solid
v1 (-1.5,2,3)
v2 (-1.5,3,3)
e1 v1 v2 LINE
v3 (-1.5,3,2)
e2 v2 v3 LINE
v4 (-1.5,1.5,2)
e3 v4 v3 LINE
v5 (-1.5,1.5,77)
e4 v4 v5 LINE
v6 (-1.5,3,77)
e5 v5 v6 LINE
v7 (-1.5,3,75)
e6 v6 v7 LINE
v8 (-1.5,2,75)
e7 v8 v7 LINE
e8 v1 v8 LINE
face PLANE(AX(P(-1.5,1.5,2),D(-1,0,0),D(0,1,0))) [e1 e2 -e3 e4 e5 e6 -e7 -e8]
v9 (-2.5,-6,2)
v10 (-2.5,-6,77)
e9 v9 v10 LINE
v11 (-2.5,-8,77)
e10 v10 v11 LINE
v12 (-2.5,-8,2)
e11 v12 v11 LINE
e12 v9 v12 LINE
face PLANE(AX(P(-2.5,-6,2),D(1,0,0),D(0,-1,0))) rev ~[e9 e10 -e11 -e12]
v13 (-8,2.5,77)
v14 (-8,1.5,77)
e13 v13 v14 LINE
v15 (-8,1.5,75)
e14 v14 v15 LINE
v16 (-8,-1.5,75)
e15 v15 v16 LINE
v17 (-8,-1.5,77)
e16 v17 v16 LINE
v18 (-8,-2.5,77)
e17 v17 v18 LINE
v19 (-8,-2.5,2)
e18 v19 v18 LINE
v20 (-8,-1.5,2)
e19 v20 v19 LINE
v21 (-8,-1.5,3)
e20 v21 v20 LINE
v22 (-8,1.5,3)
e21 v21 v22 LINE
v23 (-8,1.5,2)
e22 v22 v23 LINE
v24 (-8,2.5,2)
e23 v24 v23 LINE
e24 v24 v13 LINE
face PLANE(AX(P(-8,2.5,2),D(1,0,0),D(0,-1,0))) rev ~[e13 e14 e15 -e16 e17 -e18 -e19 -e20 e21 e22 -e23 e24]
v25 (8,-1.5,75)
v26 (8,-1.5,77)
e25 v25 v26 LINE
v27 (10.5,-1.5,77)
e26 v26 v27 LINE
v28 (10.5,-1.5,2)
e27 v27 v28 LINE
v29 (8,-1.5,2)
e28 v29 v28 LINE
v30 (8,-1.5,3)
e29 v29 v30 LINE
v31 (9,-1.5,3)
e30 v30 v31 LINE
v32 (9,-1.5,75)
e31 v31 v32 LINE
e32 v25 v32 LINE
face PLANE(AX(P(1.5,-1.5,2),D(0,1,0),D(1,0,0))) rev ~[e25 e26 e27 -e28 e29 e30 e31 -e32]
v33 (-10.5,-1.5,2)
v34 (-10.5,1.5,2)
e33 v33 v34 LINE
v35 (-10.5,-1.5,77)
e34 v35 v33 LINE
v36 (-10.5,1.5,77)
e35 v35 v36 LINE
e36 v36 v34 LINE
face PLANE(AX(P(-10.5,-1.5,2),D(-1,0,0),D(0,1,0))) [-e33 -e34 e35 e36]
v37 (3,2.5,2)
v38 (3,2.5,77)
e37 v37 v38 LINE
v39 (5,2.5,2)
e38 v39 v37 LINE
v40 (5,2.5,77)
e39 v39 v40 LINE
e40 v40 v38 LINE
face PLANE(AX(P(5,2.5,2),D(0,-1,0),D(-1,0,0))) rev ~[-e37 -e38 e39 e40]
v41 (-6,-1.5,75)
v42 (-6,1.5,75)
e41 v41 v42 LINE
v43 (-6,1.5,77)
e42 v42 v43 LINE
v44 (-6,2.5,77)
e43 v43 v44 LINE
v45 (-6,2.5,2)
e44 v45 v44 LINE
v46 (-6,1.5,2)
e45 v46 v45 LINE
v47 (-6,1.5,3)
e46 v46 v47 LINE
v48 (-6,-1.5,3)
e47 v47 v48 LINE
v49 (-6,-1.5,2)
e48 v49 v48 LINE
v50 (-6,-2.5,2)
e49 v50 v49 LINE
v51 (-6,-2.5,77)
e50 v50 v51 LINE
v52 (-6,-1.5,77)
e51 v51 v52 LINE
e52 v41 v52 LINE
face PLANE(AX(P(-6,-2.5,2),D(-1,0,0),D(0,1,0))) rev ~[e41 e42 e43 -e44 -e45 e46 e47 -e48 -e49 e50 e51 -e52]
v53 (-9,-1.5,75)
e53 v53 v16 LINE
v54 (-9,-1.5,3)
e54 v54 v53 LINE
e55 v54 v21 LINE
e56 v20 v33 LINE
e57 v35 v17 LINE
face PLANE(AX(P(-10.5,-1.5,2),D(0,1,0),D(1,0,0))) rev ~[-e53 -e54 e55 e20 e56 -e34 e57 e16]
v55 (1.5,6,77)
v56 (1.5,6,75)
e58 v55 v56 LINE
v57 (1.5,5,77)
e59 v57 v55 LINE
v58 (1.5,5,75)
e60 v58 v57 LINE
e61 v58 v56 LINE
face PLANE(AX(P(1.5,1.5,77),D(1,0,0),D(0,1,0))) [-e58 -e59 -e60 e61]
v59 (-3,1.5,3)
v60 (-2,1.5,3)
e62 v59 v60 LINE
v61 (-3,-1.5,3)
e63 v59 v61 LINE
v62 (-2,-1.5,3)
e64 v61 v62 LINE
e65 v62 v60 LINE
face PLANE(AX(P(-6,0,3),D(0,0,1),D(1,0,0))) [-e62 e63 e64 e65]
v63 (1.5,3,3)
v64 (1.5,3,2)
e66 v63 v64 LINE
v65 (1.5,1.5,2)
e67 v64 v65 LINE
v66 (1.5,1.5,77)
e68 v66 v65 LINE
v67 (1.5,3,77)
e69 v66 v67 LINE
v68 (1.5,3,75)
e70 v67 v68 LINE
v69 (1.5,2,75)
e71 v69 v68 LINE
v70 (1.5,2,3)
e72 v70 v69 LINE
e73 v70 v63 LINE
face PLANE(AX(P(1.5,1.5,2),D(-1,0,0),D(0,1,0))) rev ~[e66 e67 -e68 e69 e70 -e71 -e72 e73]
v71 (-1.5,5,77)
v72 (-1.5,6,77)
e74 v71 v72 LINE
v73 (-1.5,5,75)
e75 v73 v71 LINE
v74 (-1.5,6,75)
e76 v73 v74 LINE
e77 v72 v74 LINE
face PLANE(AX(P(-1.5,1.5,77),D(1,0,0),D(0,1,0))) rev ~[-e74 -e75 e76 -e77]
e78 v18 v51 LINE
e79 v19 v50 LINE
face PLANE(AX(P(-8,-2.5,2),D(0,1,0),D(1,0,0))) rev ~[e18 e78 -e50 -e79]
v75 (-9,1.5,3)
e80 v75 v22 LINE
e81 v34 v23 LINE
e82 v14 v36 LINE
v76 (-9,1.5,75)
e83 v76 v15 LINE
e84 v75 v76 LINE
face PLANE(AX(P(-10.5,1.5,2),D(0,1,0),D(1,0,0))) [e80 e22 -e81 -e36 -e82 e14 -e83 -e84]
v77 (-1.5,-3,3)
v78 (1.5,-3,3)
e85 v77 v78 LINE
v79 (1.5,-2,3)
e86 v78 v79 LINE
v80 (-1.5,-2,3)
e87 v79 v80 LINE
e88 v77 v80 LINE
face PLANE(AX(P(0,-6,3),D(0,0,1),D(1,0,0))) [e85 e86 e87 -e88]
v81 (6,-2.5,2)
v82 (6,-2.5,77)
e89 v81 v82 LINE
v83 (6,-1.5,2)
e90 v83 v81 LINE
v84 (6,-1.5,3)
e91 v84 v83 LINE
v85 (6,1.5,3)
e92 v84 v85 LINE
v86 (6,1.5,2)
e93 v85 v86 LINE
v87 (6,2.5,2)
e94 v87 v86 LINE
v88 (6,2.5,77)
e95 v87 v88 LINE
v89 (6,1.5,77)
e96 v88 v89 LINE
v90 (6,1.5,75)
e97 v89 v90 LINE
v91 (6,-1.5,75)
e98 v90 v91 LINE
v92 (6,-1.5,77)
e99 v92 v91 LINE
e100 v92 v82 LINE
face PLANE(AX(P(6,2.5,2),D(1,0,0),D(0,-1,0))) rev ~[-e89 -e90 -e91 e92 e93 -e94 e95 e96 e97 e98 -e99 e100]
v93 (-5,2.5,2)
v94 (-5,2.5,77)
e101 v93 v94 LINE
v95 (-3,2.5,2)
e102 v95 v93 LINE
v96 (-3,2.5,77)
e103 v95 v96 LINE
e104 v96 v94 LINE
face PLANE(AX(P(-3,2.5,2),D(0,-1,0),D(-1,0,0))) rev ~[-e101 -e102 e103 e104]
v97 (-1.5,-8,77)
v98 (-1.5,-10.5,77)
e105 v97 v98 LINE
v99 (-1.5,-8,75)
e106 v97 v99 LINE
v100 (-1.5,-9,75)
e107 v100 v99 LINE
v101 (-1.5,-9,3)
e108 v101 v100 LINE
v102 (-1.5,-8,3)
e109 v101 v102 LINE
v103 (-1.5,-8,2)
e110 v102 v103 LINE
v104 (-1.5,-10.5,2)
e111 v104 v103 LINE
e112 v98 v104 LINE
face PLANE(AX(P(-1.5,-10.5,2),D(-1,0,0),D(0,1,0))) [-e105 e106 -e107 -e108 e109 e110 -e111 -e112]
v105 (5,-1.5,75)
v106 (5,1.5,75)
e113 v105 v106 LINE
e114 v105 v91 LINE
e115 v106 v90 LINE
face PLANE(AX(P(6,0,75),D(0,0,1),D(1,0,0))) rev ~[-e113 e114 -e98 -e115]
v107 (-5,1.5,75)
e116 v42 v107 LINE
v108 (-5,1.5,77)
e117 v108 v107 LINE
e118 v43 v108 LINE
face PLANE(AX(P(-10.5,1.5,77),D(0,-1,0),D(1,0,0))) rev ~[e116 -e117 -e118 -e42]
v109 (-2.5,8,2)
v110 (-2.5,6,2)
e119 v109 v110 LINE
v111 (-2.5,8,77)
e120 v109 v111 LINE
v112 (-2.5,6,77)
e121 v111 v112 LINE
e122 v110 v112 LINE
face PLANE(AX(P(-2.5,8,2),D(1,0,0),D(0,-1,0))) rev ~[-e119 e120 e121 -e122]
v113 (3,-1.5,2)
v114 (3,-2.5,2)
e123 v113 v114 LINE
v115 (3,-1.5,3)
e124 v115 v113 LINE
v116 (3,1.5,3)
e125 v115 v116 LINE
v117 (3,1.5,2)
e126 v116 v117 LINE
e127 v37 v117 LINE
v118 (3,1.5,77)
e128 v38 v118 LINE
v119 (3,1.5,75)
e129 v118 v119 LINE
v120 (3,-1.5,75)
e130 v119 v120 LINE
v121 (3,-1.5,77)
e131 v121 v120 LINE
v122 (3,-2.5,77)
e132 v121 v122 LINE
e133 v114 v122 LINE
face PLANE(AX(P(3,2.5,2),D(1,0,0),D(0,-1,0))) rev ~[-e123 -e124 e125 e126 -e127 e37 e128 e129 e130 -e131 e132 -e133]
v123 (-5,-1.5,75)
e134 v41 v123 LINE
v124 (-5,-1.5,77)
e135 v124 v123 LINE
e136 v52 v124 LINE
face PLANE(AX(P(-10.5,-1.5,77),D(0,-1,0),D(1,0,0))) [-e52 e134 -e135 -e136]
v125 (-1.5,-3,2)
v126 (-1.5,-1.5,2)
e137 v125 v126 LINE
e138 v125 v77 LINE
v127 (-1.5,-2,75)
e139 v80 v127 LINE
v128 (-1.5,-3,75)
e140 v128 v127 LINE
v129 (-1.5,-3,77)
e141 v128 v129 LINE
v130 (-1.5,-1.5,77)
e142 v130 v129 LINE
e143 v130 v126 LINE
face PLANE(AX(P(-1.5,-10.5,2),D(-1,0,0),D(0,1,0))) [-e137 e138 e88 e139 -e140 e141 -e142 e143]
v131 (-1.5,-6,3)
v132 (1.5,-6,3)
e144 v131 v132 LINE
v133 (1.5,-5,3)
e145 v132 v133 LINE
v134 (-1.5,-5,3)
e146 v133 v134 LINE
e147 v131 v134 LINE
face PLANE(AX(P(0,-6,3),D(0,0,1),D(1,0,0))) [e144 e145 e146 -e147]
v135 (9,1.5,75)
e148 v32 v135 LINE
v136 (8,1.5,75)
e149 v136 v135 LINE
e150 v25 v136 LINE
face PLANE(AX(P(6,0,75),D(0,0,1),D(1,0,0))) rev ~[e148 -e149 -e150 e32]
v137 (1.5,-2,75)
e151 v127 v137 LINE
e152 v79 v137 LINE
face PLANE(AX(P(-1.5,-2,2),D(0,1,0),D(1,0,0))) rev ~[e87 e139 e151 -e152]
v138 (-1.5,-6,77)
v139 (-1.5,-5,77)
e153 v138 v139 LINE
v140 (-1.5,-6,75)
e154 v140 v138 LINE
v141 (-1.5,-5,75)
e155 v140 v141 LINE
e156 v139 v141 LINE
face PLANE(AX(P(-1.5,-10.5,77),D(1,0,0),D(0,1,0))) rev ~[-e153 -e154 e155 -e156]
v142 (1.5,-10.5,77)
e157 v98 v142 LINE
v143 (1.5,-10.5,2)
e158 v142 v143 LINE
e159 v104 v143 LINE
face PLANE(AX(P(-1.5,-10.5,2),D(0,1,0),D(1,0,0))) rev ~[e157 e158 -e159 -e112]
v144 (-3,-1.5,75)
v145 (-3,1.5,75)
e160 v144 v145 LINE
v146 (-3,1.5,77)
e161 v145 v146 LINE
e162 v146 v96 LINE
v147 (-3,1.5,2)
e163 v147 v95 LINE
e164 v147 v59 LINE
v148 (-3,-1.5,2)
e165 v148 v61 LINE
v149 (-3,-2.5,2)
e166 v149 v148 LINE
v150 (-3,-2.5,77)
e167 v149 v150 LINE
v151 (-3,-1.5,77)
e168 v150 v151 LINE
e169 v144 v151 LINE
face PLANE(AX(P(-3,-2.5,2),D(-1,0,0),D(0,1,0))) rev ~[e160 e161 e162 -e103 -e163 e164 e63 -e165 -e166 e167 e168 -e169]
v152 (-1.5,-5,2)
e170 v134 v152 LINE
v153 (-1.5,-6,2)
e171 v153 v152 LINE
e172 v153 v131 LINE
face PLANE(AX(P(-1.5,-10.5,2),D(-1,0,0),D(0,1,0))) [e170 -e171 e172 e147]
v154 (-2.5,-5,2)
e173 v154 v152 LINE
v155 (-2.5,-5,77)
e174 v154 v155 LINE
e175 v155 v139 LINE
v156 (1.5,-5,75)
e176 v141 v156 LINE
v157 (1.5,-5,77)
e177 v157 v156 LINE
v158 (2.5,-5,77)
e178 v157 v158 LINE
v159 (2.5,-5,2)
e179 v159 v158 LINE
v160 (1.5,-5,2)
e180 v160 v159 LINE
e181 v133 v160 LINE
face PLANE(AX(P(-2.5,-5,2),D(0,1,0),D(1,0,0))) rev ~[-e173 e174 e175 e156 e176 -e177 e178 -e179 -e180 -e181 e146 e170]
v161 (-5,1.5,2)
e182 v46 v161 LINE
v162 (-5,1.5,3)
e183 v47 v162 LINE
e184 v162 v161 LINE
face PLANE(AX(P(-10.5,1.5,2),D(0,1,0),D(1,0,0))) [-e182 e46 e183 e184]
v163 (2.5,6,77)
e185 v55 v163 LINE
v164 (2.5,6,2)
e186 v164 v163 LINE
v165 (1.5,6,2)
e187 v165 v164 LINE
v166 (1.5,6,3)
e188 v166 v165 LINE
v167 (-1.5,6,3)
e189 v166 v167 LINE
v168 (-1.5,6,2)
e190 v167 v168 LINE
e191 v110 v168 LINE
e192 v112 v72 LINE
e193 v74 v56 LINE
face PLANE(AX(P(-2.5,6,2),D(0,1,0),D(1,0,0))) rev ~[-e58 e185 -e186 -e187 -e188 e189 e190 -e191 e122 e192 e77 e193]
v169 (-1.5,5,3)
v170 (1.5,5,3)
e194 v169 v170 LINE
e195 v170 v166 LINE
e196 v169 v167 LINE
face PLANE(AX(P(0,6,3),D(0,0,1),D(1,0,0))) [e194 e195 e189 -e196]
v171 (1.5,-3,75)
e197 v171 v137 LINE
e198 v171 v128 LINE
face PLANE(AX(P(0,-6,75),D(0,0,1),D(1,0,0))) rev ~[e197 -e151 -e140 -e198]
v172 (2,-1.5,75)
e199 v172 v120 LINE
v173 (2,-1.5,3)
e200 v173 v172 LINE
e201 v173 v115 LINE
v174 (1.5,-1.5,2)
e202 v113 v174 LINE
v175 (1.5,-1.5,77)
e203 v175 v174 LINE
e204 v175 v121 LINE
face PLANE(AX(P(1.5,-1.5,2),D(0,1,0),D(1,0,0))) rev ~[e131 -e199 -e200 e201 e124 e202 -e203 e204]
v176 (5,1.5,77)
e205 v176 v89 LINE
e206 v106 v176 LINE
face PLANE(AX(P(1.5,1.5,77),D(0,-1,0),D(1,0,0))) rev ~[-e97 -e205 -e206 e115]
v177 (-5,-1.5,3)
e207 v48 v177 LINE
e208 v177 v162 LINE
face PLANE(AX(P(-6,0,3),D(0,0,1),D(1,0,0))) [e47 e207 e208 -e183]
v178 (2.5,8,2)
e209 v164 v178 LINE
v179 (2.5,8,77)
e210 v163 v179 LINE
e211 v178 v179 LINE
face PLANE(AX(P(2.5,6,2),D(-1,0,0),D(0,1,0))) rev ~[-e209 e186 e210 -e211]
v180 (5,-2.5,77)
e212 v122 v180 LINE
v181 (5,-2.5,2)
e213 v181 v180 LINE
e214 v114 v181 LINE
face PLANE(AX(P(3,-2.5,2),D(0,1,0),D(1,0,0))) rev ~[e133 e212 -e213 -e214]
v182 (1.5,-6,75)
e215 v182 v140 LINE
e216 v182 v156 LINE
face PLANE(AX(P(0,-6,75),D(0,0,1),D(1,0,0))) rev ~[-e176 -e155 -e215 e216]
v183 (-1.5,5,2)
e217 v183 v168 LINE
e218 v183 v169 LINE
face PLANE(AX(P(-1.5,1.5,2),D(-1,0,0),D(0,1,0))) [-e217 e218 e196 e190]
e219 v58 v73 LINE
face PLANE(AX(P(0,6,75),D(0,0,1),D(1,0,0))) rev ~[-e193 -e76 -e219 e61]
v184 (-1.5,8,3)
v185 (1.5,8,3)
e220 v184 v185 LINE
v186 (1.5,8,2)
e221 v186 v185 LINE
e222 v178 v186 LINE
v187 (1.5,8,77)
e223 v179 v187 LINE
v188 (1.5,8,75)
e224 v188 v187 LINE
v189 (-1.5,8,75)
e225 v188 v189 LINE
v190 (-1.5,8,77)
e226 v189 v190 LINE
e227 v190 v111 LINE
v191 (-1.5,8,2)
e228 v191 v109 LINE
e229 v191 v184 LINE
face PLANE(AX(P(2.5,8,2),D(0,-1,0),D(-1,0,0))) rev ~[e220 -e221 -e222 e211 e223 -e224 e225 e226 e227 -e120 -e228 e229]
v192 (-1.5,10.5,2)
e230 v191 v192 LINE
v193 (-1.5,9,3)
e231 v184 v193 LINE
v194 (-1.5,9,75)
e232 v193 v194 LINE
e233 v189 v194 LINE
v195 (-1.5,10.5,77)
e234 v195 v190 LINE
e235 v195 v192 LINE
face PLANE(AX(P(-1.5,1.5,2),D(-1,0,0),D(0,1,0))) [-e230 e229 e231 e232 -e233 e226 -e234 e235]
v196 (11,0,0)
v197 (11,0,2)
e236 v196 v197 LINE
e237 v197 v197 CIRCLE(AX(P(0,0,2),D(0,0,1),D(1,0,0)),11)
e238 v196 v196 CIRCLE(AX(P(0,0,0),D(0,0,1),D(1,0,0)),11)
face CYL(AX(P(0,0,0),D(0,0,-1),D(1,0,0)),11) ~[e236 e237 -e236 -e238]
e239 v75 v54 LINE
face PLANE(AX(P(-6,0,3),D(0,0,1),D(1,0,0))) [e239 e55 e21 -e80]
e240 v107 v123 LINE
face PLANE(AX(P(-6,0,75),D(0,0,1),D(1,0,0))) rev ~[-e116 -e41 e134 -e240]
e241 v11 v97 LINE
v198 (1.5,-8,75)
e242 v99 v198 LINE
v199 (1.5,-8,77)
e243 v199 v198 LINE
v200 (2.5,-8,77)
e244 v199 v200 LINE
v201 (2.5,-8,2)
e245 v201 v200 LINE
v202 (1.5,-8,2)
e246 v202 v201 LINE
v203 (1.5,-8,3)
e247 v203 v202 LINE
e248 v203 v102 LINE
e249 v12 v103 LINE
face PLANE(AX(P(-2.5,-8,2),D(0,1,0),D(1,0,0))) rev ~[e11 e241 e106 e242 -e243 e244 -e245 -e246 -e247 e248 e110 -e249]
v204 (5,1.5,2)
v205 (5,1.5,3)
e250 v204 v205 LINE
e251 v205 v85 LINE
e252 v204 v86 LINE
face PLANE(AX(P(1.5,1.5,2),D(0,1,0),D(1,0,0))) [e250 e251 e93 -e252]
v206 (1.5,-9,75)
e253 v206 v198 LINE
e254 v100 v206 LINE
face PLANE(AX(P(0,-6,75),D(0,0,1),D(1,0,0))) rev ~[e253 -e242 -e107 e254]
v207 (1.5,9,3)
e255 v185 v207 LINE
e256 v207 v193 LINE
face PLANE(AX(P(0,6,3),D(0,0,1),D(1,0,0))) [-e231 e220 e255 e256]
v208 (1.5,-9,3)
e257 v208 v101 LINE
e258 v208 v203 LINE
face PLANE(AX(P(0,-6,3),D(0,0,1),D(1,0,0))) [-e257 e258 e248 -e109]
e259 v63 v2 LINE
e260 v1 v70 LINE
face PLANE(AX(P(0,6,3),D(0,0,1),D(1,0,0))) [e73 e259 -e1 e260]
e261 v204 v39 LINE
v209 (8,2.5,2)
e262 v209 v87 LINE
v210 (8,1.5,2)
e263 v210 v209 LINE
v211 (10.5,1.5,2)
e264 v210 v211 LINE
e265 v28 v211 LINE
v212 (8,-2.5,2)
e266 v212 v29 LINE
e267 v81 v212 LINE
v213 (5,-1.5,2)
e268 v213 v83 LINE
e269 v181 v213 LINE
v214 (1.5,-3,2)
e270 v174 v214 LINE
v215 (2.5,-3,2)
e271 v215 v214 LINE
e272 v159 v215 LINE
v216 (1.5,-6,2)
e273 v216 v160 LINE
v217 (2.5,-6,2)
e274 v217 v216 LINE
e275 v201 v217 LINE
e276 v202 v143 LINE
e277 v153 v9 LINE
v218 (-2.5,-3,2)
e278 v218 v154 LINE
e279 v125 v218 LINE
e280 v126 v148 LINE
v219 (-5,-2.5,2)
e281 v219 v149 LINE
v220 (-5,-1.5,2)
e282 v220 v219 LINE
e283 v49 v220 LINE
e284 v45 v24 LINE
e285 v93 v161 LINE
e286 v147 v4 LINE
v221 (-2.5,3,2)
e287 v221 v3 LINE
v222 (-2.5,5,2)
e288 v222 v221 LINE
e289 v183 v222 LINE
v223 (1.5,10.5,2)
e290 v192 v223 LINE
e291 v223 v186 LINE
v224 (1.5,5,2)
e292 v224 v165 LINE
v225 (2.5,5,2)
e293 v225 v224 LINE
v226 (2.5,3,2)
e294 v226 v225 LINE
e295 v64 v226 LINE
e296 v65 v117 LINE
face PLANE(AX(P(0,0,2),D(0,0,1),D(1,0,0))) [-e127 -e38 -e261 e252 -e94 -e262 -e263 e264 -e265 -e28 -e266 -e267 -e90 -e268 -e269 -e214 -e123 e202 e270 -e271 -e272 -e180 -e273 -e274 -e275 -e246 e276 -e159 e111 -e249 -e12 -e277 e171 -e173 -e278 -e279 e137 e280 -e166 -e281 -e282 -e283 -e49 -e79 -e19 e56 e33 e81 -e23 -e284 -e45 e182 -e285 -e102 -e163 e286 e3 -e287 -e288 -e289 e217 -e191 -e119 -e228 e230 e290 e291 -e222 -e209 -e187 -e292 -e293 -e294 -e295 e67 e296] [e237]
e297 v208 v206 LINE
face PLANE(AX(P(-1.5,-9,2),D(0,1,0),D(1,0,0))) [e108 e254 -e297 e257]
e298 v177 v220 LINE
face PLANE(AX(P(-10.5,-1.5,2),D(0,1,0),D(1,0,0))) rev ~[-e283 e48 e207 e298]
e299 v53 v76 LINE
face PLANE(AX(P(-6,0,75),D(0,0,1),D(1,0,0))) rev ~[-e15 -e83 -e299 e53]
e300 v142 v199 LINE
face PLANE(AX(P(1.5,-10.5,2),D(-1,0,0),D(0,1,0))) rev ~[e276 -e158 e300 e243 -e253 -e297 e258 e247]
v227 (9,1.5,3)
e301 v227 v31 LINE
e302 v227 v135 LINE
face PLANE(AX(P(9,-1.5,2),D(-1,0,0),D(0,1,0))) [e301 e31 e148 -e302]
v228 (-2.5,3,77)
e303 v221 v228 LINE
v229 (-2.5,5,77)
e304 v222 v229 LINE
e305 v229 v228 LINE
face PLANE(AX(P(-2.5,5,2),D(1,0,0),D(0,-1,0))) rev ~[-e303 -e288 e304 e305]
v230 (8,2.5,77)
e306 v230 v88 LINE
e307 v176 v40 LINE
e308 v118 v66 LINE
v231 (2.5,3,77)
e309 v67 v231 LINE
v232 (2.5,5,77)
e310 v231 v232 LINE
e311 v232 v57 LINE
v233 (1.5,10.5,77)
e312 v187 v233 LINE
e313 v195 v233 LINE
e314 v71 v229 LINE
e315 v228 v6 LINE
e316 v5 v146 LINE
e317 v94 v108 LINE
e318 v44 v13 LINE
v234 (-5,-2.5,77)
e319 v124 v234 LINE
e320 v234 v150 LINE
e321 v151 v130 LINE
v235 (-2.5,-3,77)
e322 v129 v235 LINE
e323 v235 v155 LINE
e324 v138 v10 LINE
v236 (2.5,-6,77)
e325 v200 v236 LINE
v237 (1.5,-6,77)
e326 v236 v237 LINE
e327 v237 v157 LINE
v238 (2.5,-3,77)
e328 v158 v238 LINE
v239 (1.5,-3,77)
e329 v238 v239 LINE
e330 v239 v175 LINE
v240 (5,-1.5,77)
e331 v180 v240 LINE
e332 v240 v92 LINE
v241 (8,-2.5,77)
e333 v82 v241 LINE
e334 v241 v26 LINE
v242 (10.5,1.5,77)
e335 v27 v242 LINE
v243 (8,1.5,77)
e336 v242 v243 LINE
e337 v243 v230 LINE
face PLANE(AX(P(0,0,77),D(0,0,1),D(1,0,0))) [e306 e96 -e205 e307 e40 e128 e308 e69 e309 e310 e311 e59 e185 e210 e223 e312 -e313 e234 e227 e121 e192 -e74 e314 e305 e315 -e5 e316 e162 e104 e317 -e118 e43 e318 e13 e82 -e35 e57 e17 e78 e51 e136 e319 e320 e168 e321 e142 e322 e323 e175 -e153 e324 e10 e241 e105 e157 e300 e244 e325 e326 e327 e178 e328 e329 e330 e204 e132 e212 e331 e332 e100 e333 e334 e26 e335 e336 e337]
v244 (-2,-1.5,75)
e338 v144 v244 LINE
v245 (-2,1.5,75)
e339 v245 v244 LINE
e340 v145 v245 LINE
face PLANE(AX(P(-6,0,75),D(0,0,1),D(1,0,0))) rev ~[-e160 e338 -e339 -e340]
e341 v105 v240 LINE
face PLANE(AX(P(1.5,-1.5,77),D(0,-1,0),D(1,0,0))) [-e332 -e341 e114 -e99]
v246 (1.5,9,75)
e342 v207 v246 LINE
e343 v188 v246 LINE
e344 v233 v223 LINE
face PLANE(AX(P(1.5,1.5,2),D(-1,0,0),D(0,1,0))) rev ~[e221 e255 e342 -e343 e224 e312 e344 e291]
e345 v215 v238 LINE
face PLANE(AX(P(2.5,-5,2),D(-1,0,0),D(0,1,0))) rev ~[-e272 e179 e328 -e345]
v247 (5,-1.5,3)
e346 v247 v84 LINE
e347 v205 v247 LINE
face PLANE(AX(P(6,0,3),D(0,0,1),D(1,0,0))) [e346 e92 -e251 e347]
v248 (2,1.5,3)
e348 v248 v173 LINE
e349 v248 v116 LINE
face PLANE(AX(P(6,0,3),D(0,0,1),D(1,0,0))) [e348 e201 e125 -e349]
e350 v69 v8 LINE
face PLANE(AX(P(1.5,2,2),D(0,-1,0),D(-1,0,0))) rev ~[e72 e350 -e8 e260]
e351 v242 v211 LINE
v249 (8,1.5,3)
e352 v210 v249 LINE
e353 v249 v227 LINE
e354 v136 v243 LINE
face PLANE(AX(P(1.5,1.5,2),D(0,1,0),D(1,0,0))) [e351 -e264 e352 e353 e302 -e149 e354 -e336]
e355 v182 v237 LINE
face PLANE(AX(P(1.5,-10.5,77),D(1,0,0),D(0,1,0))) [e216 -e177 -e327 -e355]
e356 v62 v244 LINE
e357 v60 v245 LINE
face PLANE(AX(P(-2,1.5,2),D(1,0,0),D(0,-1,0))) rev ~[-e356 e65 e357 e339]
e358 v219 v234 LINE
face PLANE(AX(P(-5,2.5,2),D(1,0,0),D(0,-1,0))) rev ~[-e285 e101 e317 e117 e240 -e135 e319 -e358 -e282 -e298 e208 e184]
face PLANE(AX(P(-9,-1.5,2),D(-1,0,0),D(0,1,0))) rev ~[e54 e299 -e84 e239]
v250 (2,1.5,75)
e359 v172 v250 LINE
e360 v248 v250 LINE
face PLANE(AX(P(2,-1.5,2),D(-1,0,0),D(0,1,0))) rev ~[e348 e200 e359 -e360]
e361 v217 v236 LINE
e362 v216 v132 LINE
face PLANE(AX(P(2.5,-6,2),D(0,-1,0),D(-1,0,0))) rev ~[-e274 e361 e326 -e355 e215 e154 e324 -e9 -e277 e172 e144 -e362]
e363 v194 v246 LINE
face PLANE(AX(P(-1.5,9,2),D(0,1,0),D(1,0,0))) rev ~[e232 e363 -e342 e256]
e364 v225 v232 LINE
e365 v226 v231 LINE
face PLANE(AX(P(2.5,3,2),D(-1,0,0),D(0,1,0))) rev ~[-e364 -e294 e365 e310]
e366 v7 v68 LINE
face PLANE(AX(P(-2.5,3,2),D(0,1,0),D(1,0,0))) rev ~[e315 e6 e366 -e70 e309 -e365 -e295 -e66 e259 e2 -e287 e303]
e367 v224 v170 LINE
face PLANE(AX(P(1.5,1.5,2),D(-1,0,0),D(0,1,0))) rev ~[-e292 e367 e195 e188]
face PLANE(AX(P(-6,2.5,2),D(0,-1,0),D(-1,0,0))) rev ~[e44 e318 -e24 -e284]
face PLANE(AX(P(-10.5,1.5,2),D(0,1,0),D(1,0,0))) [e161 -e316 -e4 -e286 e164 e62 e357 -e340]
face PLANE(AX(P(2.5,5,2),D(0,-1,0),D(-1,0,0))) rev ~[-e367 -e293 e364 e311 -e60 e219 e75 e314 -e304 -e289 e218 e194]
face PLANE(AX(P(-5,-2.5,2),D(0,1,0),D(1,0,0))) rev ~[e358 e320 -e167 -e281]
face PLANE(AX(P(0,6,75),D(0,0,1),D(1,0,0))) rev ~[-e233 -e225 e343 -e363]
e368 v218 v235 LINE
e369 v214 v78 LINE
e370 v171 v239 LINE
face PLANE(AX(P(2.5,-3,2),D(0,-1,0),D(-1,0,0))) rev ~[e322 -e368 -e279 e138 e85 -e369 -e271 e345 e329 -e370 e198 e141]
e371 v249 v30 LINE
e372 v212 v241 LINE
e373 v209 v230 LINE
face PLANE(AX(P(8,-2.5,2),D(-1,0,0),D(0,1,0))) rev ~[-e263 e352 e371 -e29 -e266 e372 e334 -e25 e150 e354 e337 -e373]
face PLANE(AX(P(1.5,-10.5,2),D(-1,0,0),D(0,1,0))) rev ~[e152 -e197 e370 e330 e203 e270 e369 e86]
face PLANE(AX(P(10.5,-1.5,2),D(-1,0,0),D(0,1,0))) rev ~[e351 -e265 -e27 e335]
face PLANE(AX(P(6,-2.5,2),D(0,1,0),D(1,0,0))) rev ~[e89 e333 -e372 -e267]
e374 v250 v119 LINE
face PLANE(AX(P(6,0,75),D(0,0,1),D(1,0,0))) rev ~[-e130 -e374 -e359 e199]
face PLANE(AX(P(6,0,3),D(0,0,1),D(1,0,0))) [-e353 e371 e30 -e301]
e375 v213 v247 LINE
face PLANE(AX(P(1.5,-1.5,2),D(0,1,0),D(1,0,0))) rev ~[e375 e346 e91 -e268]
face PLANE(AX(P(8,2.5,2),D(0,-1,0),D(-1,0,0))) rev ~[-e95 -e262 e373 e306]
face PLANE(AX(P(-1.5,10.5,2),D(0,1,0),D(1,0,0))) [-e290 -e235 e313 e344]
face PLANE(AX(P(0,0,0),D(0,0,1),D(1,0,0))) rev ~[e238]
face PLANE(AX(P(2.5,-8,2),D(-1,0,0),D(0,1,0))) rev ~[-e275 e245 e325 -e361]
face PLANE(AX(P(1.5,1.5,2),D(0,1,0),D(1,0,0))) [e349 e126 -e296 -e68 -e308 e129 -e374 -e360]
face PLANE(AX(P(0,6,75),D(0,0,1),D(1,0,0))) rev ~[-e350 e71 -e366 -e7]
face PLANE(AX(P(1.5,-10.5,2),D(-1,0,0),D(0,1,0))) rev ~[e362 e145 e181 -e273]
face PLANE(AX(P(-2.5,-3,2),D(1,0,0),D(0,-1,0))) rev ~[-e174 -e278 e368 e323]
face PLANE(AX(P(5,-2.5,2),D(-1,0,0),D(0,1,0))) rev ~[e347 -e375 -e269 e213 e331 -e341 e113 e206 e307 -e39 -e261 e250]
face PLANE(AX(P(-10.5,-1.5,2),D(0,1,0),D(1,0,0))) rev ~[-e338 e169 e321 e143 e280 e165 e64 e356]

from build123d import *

# Parameters (mm, degrees)
F0_R     = 11
F1_DEPTH = 2
F2_W     = 9
F2_H     = 3
F2_W_2   = 3
F2_H_2   = 9
F3_DEPTH = 1
F4_W     = 1.5
F4_H     = 3
F4_W_2   = 3
F4_H_2   = 1.5
F5_DEPTH = 75
F6_W     = 3
F6_H     = 9
F6_W_2   = 9
F6_H_2   = 3
F7_DEPTH = 2


with BuildPart() as f1:
    # F0 (on Top) → F1 (new body)
    with BuildSketch(Plane.XY):
        Circle(F0_R)
    extrude(amount=F1_DEPTH)

    # F2 (on face) → F3 (join)
    with BuildSketch(Plane.XY.offset(2)):
        with Locations((-6, 0)):
            Rectangle(F2_W, F2_H)
        with Locations((6, 0)):
            Rectangle(F2_W, F2_H)
        with Locations((0, 6)):
            Rectangle(F2_W_2, F2_H_2)
        with Locations((0, -6)):
            Rectangle(F2_W_2, F2_H_2)
    extrude(amount=F3_DEPTH)

    # F4 (on face) → F5 (join)
    with BuildSketch(Plane.XY.offset(2)):
        with Locations((9.75, 0)):
            Rectangle(F4_W, F4_H)
        Polygon((8, -1.5), (8, 1.5), (8, 2.5), (6, 2.5), (6, 1.5), (6, -1.5), (6, -2.5), (8, -2.5), align=None)
        Polygon((5, -1.5), (5, 1.5), (5, 2.5), (3, 2.5), (3, 1.5), (3, -1.5), (3, -2.5), (5, -2.5), align=None)
        Polygon((2, -1.5), (2, 1.5), (1.5, 1.5), (1.5, 2), (-1.5, 2), (-1.5, 1.5), (-2, 1.5), (-2, -1.5), (-1.5, -1.5), (-1.5, -2), (1.5, -2), (1.5, -1.5), align=None)
        Polygon((2.5, 6), (2.5, 8), (1.5, 8), (-1.5, 8), (-2.5, 8), (-2.5, 6), (-1.5, 6), (1.5, 6), align=None)
        Polygon((2.5, 3), (2.5, 5), (1.5, 5), (-1.5, 5), (-2.5, 5), (-2.5, 3), (-1.5, 3), (1.5, 3), align=None)
        with Locations((0, 9.75)):
            Rectangle(F4_W_2, F4_H_2)
        Polygon((-6, 2.5), (-8, 2.5), (-8, 1.5), (-8, -1.5), (-8, -2.5), (-6, -2.5), (-6, -1.5), (-6, 1.5), align=None)
        Polygon((-3, 2.5), (-5, 2.5), (-5, 1.5), (-5, -1.5), (-5, -2.5), (-3, -2.5), (-3, -1.5), (-3, 1.5), align=None)
        with Locations((-9.75, 0)):
            Rectangle(F4_W, F4_H)
        Polygon((-2.5, -6), (-2.5, -8), (-1.5, -8), (1.5, -8), (2.5, -8), (2.5, -6), (1.5, -6), (-1.5, -6), align=None)
        Polygon((-2.5, -3), (-2.5, -5), (-1.5, -5), (1.5, -5), (2.5, -5), (2.5, -3), (1.5, -3), (-1.5, -3), align=None)
        with Locations((0, -9.75)):
            Rectangle(F4_W_2, F4_H_2)
    extrude(amount=F5_DEPTH)

    # F6 (on face) → F7 (join)
    with BuildSketch(Plane.XY.offset(77)):
        with Locations((0, 6)):
            Rectangle(F6_W, F6_H)
        with Locations((-6, 0)):
            Rectangle(F6_W_2, F6_H_2)
        with Locations((0, -6)):
            Rectangle(F6_W, F6_H)
        with Locations((6, 0)):
            Rectangle(F6_W_2, F6_H_2)
    extrude(amount=-F7_DEPTH)


solid = f1.part
